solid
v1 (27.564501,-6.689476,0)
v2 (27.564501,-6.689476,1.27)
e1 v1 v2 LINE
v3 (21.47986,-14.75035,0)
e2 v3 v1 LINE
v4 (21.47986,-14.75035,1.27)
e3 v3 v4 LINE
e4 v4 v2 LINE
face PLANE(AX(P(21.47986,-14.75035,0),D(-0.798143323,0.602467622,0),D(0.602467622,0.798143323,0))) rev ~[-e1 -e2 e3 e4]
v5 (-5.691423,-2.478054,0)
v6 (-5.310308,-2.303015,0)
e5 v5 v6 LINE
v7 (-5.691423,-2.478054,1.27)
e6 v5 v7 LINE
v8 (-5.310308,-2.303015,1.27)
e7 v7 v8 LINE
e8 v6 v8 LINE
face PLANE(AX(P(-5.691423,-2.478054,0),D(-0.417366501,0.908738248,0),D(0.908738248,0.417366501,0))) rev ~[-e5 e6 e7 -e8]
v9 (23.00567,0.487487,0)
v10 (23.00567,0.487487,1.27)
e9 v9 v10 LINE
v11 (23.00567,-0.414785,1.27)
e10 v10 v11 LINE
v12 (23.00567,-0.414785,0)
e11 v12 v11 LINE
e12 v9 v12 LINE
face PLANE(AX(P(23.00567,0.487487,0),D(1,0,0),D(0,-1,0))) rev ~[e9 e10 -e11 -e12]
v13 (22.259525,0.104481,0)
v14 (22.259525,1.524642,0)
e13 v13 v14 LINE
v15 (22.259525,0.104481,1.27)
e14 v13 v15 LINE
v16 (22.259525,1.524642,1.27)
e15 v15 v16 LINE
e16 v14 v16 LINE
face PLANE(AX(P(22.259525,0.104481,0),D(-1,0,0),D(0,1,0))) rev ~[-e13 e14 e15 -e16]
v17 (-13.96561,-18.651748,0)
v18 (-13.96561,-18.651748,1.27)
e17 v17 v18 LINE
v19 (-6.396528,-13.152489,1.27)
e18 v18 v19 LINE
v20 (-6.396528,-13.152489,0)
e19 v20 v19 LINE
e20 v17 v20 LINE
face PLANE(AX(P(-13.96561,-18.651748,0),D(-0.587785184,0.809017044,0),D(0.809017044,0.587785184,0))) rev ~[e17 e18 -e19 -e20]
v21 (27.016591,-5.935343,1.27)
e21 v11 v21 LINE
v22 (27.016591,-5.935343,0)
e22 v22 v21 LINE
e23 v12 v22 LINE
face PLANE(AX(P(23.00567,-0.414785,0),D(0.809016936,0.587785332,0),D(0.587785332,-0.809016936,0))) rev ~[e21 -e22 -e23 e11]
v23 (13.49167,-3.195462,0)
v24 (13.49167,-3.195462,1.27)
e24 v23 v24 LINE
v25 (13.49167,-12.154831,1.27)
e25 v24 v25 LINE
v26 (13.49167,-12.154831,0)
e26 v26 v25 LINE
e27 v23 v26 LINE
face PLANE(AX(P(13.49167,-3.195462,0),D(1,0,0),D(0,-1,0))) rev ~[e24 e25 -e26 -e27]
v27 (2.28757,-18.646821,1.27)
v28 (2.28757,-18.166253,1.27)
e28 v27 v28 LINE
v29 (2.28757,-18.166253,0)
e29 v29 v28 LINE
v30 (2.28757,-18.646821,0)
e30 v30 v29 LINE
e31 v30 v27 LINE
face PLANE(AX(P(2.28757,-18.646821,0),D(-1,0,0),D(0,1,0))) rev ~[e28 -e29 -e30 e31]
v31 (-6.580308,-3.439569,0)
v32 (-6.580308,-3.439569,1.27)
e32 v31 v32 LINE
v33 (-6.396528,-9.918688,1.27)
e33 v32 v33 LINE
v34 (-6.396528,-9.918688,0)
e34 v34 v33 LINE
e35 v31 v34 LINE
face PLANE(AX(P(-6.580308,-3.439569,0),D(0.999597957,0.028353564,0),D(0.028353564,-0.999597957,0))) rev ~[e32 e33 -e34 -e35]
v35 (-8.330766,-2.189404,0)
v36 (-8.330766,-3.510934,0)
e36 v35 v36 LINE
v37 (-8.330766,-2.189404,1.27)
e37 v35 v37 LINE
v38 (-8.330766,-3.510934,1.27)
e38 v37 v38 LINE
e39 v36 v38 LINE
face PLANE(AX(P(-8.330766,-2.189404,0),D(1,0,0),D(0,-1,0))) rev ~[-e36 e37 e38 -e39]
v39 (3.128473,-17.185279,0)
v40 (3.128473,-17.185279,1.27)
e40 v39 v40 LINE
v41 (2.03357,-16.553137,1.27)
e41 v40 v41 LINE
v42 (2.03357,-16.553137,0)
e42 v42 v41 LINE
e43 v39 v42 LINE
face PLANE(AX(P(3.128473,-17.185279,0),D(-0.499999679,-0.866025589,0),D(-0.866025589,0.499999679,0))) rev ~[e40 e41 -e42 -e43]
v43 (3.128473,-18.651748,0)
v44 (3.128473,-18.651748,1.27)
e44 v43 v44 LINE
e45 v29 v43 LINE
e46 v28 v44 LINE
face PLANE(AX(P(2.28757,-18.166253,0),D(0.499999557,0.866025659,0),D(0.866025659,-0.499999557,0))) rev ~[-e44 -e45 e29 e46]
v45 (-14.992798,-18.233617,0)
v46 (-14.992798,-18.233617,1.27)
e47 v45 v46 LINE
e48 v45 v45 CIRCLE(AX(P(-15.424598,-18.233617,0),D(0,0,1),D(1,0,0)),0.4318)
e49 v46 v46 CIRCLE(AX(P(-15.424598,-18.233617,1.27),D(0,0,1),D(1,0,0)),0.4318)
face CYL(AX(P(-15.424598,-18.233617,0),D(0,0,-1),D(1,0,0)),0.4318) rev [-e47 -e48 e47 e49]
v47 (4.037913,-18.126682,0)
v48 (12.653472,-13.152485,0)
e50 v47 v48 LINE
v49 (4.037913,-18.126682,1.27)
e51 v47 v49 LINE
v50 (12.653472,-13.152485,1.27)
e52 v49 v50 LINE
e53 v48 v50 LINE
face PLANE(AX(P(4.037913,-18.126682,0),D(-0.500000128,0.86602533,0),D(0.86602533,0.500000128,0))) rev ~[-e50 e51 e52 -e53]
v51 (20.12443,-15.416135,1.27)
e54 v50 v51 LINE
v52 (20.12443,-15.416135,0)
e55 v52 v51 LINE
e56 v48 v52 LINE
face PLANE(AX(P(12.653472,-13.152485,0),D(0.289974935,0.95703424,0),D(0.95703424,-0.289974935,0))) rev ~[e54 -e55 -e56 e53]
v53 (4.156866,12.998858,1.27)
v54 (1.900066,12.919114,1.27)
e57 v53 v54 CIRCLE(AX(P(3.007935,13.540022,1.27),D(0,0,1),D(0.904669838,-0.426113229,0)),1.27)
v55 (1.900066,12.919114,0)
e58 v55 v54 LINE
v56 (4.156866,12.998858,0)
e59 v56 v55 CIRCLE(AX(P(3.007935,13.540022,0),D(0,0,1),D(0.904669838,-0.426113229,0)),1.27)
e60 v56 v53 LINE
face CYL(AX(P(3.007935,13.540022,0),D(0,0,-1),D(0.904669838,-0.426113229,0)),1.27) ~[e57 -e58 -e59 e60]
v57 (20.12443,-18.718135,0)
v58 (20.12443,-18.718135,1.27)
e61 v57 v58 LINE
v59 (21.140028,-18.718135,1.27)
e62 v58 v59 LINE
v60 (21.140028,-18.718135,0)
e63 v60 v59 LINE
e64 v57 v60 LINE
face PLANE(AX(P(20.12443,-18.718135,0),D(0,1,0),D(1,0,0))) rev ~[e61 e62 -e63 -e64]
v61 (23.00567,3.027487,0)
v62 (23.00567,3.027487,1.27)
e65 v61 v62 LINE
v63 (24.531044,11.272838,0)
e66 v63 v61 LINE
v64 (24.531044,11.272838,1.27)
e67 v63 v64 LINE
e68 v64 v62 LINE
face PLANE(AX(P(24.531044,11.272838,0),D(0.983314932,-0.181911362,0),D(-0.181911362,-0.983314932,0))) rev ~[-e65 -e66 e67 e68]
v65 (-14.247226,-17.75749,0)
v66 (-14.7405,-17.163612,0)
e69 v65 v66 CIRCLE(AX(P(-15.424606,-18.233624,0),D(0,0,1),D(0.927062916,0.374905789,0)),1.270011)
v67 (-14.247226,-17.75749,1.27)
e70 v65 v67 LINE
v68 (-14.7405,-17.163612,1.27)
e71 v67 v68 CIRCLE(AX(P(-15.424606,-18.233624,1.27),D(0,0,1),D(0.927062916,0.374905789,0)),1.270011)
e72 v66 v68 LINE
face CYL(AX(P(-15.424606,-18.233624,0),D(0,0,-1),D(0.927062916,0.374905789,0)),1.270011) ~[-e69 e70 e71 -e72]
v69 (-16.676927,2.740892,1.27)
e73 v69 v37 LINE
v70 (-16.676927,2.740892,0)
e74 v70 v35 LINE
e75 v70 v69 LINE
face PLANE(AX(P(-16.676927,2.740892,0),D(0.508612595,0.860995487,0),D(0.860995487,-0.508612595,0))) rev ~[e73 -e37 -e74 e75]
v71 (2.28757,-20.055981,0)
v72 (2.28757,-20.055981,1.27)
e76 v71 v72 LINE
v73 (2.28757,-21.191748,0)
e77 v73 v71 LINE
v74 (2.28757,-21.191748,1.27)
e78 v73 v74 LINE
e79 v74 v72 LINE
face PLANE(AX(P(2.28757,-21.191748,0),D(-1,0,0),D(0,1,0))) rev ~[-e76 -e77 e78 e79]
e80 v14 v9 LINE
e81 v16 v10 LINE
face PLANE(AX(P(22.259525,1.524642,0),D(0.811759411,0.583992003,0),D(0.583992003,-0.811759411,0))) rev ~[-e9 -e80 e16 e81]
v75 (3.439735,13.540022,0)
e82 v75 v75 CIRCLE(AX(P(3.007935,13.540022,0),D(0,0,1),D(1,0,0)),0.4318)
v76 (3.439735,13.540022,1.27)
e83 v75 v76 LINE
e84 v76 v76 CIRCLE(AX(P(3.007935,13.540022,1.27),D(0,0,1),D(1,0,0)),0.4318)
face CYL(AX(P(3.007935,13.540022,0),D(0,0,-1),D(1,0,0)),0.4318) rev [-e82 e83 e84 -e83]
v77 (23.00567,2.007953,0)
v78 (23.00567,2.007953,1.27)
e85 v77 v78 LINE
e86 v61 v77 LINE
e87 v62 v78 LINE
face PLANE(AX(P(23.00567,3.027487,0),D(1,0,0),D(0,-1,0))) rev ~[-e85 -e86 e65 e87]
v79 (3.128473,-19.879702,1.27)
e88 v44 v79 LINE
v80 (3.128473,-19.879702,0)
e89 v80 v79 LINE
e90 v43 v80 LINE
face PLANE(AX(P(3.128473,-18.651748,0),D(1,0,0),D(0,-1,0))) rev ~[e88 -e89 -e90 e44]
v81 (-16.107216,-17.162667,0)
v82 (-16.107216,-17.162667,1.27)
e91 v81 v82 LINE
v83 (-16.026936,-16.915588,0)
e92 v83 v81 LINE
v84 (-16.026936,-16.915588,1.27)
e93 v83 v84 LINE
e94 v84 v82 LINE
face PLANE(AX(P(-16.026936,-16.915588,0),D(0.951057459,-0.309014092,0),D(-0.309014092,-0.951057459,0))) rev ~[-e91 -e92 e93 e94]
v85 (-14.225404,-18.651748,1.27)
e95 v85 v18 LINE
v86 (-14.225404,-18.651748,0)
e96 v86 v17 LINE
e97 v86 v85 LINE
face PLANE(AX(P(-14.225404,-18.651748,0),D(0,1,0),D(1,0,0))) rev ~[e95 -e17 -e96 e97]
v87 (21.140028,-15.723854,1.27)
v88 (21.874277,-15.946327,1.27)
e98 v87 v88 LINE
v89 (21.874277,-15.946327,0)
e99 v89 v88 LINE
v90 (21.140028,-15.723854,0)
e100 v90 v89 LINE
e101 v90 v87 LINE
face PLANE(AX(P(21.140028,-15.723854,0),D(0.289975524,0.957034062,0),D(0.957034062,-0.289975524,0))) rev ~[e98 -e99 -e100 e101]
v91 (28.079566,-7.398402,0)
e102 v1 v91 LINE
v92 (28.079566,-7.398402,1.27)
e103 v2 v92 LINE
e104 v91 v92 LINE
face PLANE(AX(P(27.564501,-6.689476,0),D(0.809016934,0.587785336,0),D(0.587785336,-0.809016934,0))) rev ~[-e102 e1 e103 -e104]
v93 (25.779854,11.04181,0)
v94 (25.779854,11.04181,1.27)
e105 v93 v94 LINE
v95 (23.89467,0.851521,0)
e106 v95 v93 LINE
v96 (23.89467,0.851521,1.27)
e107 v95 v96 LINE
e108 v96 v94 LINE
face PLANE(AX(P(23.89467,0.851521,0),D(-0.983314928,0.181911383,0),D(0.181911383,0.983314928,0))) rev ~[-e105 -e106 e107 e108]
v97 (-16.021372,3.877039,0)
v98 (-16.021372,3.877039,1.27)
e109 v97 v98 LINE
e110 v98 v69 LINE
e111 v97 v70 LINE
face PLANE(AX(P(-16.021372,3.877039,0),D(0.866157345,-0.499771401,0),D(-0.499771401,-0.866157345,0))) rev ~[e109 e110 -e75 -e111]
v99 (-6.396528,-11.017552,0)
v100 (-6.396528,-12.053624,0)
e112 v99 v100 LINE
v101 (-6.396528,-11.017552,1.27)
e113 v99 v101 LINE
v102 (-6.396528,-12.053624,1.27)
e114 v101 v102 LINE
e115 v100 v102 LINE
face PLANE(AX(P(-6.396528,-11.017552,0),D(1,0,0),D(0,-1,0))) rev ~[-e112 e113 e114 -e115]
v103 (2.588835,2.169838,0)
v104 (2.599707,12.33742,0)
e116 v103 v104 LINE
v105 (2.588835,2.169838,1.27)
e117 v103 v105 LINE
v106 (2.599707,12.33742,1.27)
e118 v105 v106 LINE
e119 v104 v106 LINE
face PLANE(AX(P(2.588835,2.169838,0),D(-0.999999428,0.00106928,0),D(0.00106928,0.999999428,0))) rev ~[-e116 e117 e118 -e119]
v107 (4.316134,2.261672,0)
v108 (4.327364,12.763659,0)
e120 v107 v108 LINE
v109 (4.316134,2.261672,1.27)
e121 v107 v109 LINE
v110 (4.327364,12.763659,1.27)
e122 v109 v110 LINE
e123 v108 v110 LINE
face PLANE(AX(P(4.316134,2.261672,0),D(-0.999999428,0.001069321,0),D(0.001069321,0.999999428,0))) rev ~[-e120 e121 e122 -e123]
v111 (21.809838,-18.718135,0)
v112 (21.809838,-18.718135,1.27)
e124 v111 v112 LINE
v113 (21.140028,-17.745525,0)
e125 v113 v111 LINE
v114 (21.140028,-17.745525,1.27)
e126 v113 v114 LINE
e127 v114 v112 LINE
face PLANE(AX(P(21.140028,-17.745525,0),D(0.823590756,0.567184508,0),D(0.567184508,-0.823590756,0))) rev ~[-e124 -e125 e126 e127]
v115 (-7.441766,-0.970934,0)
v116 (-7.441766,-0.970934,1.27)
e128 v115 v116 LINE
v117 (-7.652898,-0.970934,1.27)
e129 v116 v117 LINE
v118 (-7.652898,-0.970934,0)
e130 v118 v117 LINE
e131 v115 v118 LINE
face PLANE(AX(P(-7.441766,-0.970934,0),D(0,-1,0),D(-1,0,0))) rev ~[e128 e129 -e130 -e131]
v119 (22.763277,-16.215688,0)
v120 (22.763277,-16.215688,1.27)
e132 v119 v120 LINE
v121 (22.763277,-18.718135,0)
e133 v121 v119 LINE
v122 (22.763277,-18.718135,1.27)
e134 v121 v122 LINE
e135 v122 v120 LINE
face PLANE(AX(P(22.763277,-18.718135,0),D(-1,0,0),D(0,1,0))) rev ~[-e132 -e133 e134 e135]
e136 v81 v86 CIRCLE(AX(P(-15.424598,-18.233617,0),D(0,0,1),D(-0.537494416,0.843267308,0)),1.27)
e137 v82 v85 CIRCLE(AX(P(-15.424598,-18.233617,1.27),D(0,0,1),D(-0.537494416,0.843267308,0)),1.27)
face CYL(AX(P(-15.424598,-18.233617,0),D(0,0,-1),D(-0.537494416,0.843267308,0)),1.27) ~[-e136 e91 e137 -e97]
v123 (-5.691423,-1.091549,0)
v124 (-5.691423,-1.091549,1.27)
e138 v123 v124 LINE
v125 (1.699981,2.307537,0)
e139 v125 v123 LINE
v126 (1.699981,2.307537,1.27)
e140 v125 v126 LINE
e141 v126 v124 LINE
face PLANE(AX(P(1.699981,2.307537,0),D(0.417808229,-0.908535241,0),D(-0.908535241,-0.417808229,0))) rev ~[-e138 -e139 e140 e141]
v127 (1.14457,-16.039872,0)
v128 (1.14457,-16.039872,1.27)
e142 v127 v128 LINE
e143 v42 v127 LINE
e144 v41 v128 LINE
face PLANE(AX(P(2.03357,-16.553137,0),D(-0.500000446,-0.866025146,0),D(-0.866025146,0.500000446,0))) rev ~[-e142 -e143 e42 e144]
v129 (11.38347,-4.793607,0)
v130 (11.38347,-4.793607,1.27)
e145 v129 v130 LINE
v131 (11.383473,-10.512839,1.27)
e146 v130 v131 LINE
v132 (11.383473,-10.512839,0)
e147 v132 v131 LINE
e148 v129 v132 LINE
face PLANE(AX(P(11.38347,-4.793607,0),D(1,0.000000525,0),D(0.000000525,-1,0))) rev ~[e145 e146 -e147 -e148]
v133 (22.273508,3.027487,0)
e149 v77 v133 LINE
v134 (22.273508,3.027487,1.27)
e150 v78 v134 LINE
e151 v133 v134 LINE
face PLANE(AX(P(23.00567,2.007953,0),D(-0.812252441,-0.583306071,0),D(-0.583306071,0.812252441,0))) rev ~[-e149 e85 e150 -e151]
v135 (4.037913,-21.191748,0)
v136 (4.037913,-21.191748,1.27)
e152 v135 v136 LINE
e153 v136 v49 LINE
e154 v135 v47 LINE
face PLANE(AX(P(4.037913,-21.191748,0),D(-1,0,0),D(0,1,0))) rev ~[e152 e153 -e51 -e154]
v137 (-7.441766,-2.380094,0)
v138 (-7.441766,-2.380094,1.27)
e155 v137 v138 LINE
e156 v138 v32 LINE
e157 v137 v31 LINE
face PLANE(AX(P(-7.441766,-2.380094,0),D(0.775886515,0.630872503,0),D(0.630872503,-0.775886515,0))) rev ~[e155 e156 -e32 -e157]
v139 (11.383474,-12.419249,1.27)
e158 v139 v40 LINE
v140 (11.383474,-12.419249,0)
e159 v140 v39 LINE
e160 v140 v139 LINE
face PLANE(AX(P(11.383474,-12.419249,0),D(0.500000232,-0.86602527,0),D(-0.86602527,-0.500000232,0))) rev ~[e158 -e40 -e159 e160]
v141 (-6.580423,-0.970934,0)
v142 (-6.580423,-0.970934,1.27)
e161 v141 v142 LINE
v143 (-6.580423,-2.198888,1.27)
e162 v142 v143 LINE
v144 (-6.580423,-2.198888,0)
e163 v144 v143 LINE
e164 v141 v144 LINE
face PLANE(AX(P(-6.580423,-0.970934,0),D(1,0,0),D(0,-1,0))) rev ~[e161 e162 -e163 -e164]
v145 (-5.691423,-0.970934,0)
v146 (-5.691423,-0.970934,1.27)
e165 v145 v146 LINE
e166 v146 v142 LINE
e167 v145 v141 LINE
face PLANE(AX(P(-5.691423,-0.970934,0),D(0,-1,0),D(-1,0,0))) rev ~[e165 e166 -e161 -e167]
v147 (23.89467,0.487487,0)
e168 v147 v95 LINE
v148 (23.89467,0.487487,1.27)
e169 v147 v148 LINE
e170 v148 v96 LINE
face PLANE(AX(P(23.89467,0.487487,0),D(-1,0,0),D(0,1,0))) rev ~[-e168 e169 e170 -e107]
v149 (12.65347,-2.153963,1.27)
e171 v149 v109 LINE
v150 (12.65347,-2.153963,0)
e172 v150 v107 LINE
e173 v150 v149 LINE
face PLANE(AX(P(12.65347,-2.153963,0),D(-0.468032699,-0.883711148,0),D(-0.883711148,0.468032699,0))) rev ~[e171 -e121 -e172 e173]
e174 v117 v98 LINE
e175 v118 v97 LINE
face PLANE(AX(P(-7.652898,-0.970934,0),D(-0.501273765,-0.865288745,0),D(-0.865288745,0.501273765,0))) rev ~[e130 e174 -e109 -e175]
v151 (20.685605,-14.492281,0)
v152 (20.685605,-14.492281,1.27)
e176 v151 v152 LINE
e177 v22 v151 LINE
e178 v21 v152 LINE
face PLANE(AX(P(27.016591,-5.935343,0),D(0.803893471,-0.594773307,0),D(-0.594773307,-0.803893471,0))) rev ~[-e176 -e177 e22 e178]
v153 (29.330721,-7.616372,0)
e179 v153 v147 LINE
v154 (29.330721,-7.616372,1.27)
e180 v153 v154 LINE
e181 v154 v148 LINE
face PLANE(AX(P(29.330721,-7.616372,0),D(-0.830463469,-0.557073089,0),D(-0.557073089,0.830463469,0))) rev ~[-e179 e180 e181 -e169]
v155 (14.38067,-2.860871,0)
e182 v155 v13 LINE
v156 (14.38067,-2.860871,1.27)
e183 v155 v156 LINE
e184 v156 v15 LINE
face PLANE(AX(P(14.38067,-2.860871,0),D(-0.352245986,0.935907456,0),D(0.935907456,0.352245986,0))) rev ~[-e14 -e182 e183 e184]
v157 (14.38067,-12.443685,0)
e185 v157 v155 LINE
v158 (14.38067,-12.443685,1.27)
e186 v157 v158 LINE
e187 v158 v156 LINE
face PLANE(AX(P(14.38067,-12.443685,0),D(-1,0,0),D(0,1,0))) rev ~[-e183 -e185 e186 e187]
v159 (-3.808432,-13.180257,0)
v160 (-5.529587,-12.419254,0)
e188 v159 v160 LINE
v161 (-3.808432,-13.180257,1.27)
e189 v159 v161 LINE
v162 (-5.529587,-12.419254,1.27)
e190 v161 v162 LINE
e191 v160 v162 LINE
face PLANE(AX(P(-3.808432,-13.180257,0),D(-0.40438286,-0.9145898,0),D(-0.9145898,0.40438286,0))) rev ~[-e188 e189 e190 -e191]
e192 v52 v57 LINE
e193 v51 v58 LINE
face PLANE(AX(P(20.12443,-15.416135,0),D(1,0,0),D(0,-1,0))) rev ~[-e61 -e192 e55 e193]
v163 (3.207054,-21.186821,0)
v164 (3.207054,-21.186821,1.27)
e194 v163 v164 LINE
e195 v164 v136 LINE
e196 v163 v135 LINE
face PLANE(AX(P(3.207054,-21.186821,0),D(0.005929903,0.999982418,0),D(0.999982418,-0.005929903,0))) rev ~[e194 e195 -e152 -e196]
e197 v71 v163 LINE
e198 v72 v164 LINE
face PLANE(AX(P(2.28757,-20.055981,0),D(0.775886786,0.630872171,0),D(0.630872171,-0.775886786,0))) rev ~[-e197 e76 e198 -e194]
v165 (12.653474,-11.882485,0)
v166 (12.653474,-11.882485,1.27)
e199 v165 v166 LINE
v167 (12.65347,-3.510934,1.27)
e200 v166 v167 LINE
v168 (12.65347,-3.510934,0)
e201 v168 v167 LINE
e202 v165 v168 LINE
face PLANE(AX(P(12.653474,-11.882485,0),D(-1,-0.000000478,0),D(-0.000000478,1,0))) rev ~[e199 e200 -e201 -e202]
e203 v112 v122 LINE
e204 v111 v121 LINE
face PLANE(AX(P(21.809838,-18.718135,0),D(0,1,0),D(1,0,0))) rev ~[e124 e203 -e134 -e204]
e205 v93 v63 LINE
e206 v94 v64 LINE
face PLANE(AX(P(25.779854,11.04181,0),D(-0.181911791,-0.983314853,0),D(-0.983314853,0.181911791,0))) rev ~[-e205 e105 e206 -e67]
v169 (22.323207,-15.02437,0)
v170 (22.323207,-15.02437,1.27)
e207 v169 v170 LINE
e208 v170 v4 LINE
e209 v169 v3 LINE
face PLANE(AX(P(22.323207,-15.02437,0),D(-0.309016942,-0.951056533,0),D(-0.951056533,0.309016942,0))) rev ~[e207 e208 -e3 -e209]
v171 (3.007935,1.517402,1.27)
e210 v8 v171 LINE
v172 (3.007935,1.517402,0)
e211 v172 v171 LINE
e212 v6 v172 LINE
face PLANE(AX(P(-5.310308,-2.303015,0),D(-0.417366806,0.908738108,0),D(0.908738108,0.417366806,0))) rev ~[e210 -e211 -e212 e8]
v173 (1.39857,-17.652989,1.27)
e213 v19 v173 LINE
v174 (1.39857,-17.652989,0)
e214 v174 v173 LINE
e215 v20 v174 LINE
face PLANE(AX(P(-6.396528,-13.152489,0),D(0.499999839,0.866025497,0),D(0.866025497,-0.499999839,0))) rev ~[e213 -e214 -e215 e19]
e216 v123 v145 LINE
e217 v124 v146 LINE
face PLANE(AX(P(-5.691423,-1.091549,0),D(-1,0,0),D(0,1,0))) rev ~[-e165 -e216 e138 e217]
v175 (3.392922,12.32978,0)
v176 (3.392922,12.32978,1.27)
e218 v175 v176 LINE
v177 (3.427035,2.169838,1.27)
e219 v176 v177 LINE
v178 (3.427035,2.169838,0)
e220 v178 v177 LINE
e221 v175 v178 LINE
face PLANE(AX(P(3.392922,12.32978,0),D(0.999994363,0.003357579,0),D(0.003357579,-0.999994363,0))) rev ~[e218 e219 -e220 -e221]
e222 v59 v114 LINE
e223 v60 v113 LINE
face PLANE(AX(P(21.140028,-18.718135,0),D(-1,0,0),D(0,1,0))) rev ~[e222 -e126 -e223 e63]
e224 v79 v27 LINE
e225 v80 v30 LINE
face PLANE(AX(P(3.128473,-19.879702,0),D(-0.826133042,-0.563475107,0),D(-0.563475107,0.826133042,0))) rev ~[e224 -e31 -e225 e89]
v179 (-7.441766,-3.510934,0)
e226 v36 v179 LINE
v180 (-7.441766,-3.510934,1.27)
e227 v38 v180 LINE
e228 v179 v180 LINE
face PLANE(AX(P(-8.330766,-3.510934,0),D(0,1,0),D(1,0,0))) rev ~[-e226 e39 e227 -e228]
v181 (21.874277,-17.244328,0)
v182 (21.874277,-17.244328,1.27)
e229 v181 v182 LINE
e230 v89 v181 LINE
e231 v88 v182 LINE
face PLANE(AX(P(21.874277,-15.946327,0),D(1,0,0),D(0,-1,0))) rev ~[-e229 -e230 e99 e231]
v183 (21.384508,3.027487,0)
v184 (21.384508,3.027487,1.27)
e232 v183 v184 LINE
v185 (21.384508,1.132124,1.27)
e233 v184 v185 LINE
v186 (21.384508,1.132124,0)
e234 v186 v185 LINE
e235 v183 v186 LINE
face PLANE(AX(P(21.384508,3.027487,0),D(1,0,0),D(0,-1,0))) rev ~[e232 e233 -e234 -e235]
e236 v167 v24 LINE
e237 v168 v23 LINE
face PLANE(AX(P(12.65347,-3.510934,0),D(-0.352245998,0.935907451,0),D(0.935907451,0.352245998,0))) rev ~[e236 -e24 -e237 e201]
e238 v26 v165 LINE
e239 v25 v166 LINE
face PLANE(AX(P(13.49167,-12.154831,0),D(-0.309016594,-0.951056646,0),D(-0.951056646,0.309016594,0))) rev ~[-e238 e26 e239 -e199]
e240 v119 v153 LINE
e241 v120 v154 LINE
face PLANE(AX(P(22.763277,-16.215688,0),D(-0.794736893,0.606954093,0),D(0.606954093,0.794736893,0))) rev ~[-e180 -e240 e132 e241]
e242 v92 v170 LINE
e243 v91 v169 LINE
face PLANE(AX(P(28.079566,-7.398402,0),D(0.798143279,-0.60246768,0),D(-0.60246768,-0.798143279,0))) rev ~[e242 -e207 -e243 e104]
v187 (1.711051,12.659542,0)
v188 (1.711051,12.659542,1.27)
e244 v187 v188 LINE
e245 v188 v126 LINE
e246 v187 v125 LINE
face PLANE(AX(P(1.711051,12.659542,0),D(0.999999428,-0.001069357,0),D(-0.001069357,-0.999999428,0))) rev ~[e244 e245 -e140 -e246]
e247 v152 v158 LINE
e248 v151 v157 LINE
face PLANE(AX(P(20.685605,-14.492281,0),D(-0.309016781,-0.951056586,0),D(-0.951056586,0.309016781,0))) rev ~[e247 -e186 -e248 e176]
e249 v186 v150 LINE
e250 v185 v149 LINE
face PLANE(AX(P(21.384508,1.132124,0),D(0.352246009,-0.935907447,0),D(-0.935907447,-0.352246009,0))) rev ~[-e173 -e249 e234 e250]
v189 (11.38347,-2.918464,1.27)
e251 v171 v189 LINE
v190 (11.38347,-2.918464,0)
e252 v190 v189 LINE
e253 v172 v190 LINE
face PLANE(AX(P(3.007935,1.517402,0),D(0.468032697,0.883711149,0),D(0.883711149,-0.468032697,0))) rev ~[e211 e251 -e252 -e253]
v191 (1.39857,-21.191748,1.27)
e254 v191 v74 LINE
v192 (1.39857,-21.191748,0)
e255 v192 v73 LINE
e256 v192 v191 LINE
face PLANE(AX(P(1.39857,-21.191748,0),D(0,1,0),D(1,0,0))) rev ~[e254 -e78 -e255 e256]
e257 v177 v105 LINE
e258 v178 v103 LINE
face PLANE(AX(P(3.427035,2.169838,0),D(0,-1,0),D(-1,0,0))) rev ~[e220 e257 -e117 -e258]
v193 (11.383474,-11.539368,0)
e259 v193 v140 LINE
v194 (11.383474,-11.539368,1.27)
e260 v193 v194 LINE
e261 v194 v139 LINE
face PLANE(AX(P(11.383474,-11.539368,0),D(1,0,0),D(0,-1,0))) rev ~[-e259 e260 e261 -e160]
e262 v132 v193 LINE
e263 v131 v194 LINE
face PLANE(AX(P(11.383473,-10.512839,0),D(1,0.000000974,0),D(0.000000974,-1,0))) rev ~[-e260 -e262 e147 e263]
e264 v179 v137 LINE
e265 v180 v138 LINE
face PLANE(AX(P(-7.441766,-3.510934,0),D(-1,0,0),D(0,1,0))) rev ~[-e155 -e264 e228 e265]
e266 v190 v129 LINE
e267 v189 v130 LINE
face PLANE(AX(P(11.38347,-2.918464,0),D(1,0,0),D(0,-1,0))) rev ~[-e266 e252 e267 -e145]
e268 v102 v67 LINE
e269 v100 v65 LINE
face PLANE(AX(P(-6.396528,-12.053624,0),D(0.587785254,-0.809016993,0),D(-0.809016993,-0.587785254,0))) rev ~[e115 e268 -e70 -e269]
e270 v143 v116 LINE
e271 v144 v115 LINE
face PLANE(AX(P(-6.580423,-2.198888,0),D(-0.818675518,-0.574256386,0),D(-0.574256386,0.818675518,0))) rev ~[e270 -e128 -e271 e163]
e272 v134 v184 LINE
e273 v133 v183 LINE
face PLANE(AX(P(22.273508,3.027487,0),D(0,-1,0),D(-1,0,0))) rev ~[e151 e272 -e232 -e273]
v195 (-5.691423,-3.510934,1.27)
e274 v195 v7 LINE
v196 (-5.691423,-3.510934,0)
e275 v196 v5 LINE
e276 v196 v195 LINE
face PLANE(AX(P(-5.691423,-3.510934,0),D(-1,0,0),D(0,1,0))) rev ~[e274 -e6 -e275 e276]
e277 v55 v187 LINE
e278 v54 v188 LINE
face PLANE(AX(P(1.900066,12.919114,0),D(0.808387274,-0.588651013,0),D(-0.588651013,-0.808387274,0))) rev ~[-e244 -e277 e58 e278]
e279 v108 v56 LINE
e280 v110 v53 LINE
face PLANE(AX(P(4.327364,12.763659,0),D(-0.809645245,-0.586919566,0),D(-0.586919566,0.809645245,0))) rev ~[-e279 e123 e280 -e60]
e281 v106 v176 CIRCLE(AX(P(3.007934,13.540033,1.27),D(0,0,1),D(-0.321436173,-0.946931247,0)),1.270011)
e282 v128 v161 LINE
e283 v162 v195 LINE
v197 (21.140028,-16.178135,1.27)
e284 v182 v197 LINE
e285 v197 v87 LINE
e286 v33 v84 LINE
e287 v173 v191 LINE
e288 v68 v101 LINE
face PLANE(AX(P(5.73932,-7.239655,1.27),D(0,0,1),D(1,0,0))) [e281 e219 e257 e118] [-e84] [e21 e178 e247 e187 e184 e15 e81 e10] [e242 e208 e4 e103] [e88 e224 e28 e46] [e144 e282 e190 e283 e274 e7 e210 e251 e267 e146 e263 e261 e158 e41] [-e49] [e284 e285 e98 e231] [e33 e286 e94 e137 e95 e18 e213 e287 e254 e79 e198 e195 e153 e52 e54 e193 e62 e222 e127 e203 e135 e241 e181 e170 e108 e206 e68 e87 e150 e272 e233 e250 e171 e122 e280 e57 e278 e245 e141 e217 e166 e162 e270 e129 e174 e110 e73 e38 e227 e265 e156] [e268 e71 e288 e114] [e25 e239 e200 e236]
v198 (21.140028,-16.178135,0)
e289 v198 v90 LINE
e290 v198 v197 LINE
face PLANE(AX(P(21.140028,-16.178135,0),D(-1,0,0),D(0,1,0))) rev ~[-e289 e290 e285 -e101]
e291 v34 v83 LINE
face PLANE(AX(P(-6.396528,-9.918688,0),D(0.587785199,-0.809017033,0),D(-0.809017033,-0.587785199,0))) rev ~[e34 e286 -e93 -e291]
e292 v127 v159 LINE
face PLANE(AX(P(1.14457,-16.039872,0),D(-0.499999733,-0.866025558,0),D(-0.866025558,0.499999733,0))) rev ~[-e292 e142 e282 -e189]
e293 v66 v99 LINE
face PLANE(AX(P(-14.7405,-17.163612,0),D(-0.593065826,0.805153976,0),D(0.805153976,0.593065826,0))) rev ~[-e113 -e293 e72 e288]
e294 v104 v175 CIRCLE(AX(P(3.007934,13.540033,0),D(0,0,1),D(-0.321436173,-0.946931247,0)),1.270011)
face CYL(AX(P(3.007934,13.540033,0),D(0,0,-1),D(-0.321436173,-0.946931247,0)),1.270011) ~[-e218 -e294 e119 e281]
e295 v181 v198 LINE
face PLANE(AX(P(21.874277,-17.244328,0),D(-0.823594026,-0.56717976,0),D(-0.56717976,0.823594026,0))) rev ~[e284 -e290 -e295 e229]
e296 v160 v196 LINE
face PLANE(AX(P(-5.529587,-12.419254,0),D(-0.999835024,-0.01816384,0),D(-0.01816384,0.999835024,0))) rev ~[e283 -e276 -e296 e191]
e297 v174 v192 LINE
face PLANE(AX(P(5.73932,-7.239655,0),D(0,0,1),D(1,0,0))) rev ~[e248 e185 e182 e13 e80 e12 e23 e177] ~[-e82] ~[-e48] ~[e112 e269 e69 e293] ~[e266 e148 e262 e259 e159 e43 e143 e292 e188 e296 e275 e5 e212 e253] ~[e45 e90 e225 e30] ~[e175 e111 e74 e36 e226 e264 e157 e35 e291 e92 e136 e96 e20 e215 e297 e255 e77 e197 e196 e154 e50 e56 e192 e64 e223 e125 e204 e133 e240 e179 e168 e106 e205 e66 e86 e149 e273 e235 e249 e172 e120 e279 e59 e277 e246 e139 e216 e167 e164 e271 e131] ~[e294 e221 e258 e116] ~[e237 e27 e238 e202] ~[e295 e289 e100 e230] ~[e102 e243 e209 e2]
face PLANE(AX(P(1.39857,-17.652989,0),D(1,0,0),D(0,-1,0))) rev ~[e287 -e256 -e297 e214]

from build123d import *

# Parameters (mm, degrees)
F0_R     = 0.4318
F1_DEPTH = 1.27


with BuildPart() as f1:
    # F0 (on Top) → F1 (new body)
    with BuildSketch(Plane.XY):
        with BuildLine():
            Line((12.65347, -2.153963), (4.316134, 2.261672))
            Line((4.316134, 2.261672), (4.327364, 12.763659))
            Line((4.327364, 12.763659), (4.156866, 12.998858))
            ThreePointArc((4.156866, 12.998858), (2.963087, 14.80923), (1.900066, 12.919114))
            Line((1.900066, 12.919114), (1.711051, 12.659542))
            Line((1.711051, 12.659542), (1.699981, 2.307537))
            Line((1.699981, 2.307537), (-5.691423, -1.091549))
            Line((-5.691423, -1.091549), (-5.691423, -2.478054))
            Line((-5.691423, -2.478054), (-5.310308, -2.303015))
            Line((-5.310308, -2.303015), (3.007935, 1.517402))
            Line((3.007935, 1.517402), (11.38347, -2.918464))
            Line((11.38347, -2.918464), (11.38347, -3.767079))
            Line((11.38347, -3.767079), (11.38347, -4.793607))
            Line((11.38347, -4.793607), (11.383473, -10.512839))
            Line((11.383473, -10.512839), (11.383474, -11.539368))
            Line((11.383474, -11.539368), (11.383474, -12.419249))
            Line((11.383474, -12.419249), (3.128473, -17.185279))
            Line((3.128473, -17.185279), (2.03357, -16.553137))
            Line((2.03357, -16.553137), (1.14457, -16.039872))
            Line((1.14457, -16.039872), (-3.808432, -13.180257))
            Line((-3.808432, -13.180257), (-5.529587, -12.419254))
            Line((-5.529587, -12.419254), (-5.691423, -3.510934))
            Line((-5.691423, -3.510934), (-6.522282, -3.510934))
            Line((-6.522282, -3.510934), (-6.580308, -3.439569))
            Line((-6.580308, -3.439569), (-6.396528, -9.918688))
            Line((-6.396528, -9.918688), (-16.026936, -16.915588))
            Line((-16.026936, -16.915588), (-16.107216, -17.162667))
            ThreePointArc((-16.107216, -17.162667), (-16.212667, -19.229532), (-14.225404, -18.651748))
            Line((-14.225404, -18.651748), (-13.96561, -18.651748))
            Line((-13.96561, -18.651748), (-6.396528, -13.152489))
            Line((-6.396528, -13.152489), (1.39857, -17.652989))
            Line((1.39857, -17.652989), (1.39857, -18.651748))
            Line((1.39857, -18.651748), (1.39857, -21.191748))
            Line((1.39857, -21.191748), (2.28757, -21.191748))
            Line((2.28757, -21.191748), (2.28757, -20.055981))
            Line((2.28757, -20.055981), (3.207054, -21.186821))
            Line((3.207054, -21.186821), (4.037913, -21.191748))
            Line((4.037913, -21.191748), (4.037913, -18.646821))
            Line((4.037913, -18.646821), (4.037913, -18.126682))
            Line((4.037913, -18.126682), (12.653472, -13.152485))
            Line((12.653472, -13.152485), (20.12443, -15.416135))
            Line((20.12443, -15.416135), (20.12443, -16.178135))
            Line((20.12443, -16.178135), (20.12443, -18.718135))
            Line((20.12443, -18.718135), (21.140028, -18.718135))
            Line((21.140028, -18.718135), (21.140028, -17.745525))
            Line((21.140028, -17.745525), (21.809838, -18.718135))
            Line((21.809838, -18.718135), (22.763277, -18.718135))
            Line((22.763277, -18.718135), (22.763277, -16.215688))
            Line((22.763277, -16.215688), (29.330721, -7.616372))
            Line((29.330721, -7.616372), (23.89467, 0.487487))
            Line((23.89467, 0.487487), (23.89467, 0.851521))
            Line((23.89467, 0.851521), (23.89467, 3.027487))
            Line((23.89467, 3.027487), (23.00567, 3.027487))
            Line((23.00567, 3.027487), (23.00567, 2.007953))
            Line((23.00567, 2.007953), (22.273508, 3.027487))
            Line((22.273508, 3.027487), (21.384508, 3.027487))
            Line((21.384508, 3.027487), (21.384508, 1.132124))
            Line((21.384508, 1.132124), (12.65347, -2.153963))
        make_face()
        with Locations((-15.424598, -18.233617)):
            Circle(F0_R, mode=Mode.SUBTRACT)
        with BuildLine():
            Line((-14.7405, -17.163612), (-6.396528, -11.017552))
            Line((-6.396528, -11.017552), (-6.396528, -12.053624))
            Line((-6.396528, -12.053624), (-14.247226, -17.75749))
            ThreePointArc((-14.247226, -17.75749), (-14.447644, -17.422161), (-14.7405, -17.163612))
        make_face(mode=Mode.SUBTRACT)
        Polygon((2.28757, -18.166253), (3.128473, -18.651748), (3.128473, -19.879702), (2.28757, -18.646821), align=None, mode=Mode.SUBTRACT)
        Polygon((21.874277, -17.244328), (21.140028, -16.178135), (21.140028, -15.723854), (21.874277, -15.946327), (21.874277, -16.178135), align=None, mode=Mode.SUBTRACT)
        Polygon((12.653474, -11.882485), (12.65347, -3.510934), (13.49167, -3.195462), (13.49167, -12.154831), align=None, mode=Mode.SUBTRACT)
        Polygon((27.564501, -6.689476), (28.079566, -7.398402), (22.323207, -15.02437), (21.47986, -14.75035), align=None, mode=Mode.SUBTRACT)
        Polygon((23.00567, 0.487487), (23.00567, -0.414785), (27.016591, -5.935343), (20.685605, -14.492281), (14.38067, -12.443685), (14.38067, -2.860871), (22.259525, 0.104481), (22.259525, 0.487487), (22.259525, 1.524642), align=None, mode=Mode.SUBTRACT)
        with BuildLine():
            Line((3.392922, 12.32978), (3.427035, 2.169838))
            Line((3.427035, 2.169838), (2.588835, 2.169838))
            Line((2.588835, 2.169838), (2.599707, 12.33742))
            ThreePointArc((2.599707, 12.33742), (2.995703, 12.270081), (3.392922, 12.32978))
        make_face(mode=Mode.SUBTRACT)
        with Locations((3.007935, 13.540022)):
            Circle(F0_R, mode=Mode.SUBTRACT)
        Polygon((-8.330766, -0.970934), (-7.652898, -0.970934), (-16.021372, 3.877039), (-16.676927, 2.740892), (-8.330766, -2.189404), align=None)
        Polygon((-5.691423, -2.478054), (-5.691423, -1.091549), (-5.691423, -0.970934), (-6.580423, -0.970934), (-6.580423, -2.198888), (-7.441766, -0.970934), (-7.652898, -0.970934), (-8.330766, -0.970934), (-8.330766, -2.189404), (-8.330766, -3.510934), (-7.441766, -3.510934), (-7.441766, -2.380094), (-6.580308, -3.439569), (-6.522282, -3.510934), (-5.691423, -3.510934), align=None)
        Polygon((24.531044, 11.272838), (23.00567, 3.027487), (23.89467, 3.027487), (23.89467, 0.851521), (25.779854, 11.04181), align=None)
    extrude(amount=F1_DEPTH)


solid = f1.part
